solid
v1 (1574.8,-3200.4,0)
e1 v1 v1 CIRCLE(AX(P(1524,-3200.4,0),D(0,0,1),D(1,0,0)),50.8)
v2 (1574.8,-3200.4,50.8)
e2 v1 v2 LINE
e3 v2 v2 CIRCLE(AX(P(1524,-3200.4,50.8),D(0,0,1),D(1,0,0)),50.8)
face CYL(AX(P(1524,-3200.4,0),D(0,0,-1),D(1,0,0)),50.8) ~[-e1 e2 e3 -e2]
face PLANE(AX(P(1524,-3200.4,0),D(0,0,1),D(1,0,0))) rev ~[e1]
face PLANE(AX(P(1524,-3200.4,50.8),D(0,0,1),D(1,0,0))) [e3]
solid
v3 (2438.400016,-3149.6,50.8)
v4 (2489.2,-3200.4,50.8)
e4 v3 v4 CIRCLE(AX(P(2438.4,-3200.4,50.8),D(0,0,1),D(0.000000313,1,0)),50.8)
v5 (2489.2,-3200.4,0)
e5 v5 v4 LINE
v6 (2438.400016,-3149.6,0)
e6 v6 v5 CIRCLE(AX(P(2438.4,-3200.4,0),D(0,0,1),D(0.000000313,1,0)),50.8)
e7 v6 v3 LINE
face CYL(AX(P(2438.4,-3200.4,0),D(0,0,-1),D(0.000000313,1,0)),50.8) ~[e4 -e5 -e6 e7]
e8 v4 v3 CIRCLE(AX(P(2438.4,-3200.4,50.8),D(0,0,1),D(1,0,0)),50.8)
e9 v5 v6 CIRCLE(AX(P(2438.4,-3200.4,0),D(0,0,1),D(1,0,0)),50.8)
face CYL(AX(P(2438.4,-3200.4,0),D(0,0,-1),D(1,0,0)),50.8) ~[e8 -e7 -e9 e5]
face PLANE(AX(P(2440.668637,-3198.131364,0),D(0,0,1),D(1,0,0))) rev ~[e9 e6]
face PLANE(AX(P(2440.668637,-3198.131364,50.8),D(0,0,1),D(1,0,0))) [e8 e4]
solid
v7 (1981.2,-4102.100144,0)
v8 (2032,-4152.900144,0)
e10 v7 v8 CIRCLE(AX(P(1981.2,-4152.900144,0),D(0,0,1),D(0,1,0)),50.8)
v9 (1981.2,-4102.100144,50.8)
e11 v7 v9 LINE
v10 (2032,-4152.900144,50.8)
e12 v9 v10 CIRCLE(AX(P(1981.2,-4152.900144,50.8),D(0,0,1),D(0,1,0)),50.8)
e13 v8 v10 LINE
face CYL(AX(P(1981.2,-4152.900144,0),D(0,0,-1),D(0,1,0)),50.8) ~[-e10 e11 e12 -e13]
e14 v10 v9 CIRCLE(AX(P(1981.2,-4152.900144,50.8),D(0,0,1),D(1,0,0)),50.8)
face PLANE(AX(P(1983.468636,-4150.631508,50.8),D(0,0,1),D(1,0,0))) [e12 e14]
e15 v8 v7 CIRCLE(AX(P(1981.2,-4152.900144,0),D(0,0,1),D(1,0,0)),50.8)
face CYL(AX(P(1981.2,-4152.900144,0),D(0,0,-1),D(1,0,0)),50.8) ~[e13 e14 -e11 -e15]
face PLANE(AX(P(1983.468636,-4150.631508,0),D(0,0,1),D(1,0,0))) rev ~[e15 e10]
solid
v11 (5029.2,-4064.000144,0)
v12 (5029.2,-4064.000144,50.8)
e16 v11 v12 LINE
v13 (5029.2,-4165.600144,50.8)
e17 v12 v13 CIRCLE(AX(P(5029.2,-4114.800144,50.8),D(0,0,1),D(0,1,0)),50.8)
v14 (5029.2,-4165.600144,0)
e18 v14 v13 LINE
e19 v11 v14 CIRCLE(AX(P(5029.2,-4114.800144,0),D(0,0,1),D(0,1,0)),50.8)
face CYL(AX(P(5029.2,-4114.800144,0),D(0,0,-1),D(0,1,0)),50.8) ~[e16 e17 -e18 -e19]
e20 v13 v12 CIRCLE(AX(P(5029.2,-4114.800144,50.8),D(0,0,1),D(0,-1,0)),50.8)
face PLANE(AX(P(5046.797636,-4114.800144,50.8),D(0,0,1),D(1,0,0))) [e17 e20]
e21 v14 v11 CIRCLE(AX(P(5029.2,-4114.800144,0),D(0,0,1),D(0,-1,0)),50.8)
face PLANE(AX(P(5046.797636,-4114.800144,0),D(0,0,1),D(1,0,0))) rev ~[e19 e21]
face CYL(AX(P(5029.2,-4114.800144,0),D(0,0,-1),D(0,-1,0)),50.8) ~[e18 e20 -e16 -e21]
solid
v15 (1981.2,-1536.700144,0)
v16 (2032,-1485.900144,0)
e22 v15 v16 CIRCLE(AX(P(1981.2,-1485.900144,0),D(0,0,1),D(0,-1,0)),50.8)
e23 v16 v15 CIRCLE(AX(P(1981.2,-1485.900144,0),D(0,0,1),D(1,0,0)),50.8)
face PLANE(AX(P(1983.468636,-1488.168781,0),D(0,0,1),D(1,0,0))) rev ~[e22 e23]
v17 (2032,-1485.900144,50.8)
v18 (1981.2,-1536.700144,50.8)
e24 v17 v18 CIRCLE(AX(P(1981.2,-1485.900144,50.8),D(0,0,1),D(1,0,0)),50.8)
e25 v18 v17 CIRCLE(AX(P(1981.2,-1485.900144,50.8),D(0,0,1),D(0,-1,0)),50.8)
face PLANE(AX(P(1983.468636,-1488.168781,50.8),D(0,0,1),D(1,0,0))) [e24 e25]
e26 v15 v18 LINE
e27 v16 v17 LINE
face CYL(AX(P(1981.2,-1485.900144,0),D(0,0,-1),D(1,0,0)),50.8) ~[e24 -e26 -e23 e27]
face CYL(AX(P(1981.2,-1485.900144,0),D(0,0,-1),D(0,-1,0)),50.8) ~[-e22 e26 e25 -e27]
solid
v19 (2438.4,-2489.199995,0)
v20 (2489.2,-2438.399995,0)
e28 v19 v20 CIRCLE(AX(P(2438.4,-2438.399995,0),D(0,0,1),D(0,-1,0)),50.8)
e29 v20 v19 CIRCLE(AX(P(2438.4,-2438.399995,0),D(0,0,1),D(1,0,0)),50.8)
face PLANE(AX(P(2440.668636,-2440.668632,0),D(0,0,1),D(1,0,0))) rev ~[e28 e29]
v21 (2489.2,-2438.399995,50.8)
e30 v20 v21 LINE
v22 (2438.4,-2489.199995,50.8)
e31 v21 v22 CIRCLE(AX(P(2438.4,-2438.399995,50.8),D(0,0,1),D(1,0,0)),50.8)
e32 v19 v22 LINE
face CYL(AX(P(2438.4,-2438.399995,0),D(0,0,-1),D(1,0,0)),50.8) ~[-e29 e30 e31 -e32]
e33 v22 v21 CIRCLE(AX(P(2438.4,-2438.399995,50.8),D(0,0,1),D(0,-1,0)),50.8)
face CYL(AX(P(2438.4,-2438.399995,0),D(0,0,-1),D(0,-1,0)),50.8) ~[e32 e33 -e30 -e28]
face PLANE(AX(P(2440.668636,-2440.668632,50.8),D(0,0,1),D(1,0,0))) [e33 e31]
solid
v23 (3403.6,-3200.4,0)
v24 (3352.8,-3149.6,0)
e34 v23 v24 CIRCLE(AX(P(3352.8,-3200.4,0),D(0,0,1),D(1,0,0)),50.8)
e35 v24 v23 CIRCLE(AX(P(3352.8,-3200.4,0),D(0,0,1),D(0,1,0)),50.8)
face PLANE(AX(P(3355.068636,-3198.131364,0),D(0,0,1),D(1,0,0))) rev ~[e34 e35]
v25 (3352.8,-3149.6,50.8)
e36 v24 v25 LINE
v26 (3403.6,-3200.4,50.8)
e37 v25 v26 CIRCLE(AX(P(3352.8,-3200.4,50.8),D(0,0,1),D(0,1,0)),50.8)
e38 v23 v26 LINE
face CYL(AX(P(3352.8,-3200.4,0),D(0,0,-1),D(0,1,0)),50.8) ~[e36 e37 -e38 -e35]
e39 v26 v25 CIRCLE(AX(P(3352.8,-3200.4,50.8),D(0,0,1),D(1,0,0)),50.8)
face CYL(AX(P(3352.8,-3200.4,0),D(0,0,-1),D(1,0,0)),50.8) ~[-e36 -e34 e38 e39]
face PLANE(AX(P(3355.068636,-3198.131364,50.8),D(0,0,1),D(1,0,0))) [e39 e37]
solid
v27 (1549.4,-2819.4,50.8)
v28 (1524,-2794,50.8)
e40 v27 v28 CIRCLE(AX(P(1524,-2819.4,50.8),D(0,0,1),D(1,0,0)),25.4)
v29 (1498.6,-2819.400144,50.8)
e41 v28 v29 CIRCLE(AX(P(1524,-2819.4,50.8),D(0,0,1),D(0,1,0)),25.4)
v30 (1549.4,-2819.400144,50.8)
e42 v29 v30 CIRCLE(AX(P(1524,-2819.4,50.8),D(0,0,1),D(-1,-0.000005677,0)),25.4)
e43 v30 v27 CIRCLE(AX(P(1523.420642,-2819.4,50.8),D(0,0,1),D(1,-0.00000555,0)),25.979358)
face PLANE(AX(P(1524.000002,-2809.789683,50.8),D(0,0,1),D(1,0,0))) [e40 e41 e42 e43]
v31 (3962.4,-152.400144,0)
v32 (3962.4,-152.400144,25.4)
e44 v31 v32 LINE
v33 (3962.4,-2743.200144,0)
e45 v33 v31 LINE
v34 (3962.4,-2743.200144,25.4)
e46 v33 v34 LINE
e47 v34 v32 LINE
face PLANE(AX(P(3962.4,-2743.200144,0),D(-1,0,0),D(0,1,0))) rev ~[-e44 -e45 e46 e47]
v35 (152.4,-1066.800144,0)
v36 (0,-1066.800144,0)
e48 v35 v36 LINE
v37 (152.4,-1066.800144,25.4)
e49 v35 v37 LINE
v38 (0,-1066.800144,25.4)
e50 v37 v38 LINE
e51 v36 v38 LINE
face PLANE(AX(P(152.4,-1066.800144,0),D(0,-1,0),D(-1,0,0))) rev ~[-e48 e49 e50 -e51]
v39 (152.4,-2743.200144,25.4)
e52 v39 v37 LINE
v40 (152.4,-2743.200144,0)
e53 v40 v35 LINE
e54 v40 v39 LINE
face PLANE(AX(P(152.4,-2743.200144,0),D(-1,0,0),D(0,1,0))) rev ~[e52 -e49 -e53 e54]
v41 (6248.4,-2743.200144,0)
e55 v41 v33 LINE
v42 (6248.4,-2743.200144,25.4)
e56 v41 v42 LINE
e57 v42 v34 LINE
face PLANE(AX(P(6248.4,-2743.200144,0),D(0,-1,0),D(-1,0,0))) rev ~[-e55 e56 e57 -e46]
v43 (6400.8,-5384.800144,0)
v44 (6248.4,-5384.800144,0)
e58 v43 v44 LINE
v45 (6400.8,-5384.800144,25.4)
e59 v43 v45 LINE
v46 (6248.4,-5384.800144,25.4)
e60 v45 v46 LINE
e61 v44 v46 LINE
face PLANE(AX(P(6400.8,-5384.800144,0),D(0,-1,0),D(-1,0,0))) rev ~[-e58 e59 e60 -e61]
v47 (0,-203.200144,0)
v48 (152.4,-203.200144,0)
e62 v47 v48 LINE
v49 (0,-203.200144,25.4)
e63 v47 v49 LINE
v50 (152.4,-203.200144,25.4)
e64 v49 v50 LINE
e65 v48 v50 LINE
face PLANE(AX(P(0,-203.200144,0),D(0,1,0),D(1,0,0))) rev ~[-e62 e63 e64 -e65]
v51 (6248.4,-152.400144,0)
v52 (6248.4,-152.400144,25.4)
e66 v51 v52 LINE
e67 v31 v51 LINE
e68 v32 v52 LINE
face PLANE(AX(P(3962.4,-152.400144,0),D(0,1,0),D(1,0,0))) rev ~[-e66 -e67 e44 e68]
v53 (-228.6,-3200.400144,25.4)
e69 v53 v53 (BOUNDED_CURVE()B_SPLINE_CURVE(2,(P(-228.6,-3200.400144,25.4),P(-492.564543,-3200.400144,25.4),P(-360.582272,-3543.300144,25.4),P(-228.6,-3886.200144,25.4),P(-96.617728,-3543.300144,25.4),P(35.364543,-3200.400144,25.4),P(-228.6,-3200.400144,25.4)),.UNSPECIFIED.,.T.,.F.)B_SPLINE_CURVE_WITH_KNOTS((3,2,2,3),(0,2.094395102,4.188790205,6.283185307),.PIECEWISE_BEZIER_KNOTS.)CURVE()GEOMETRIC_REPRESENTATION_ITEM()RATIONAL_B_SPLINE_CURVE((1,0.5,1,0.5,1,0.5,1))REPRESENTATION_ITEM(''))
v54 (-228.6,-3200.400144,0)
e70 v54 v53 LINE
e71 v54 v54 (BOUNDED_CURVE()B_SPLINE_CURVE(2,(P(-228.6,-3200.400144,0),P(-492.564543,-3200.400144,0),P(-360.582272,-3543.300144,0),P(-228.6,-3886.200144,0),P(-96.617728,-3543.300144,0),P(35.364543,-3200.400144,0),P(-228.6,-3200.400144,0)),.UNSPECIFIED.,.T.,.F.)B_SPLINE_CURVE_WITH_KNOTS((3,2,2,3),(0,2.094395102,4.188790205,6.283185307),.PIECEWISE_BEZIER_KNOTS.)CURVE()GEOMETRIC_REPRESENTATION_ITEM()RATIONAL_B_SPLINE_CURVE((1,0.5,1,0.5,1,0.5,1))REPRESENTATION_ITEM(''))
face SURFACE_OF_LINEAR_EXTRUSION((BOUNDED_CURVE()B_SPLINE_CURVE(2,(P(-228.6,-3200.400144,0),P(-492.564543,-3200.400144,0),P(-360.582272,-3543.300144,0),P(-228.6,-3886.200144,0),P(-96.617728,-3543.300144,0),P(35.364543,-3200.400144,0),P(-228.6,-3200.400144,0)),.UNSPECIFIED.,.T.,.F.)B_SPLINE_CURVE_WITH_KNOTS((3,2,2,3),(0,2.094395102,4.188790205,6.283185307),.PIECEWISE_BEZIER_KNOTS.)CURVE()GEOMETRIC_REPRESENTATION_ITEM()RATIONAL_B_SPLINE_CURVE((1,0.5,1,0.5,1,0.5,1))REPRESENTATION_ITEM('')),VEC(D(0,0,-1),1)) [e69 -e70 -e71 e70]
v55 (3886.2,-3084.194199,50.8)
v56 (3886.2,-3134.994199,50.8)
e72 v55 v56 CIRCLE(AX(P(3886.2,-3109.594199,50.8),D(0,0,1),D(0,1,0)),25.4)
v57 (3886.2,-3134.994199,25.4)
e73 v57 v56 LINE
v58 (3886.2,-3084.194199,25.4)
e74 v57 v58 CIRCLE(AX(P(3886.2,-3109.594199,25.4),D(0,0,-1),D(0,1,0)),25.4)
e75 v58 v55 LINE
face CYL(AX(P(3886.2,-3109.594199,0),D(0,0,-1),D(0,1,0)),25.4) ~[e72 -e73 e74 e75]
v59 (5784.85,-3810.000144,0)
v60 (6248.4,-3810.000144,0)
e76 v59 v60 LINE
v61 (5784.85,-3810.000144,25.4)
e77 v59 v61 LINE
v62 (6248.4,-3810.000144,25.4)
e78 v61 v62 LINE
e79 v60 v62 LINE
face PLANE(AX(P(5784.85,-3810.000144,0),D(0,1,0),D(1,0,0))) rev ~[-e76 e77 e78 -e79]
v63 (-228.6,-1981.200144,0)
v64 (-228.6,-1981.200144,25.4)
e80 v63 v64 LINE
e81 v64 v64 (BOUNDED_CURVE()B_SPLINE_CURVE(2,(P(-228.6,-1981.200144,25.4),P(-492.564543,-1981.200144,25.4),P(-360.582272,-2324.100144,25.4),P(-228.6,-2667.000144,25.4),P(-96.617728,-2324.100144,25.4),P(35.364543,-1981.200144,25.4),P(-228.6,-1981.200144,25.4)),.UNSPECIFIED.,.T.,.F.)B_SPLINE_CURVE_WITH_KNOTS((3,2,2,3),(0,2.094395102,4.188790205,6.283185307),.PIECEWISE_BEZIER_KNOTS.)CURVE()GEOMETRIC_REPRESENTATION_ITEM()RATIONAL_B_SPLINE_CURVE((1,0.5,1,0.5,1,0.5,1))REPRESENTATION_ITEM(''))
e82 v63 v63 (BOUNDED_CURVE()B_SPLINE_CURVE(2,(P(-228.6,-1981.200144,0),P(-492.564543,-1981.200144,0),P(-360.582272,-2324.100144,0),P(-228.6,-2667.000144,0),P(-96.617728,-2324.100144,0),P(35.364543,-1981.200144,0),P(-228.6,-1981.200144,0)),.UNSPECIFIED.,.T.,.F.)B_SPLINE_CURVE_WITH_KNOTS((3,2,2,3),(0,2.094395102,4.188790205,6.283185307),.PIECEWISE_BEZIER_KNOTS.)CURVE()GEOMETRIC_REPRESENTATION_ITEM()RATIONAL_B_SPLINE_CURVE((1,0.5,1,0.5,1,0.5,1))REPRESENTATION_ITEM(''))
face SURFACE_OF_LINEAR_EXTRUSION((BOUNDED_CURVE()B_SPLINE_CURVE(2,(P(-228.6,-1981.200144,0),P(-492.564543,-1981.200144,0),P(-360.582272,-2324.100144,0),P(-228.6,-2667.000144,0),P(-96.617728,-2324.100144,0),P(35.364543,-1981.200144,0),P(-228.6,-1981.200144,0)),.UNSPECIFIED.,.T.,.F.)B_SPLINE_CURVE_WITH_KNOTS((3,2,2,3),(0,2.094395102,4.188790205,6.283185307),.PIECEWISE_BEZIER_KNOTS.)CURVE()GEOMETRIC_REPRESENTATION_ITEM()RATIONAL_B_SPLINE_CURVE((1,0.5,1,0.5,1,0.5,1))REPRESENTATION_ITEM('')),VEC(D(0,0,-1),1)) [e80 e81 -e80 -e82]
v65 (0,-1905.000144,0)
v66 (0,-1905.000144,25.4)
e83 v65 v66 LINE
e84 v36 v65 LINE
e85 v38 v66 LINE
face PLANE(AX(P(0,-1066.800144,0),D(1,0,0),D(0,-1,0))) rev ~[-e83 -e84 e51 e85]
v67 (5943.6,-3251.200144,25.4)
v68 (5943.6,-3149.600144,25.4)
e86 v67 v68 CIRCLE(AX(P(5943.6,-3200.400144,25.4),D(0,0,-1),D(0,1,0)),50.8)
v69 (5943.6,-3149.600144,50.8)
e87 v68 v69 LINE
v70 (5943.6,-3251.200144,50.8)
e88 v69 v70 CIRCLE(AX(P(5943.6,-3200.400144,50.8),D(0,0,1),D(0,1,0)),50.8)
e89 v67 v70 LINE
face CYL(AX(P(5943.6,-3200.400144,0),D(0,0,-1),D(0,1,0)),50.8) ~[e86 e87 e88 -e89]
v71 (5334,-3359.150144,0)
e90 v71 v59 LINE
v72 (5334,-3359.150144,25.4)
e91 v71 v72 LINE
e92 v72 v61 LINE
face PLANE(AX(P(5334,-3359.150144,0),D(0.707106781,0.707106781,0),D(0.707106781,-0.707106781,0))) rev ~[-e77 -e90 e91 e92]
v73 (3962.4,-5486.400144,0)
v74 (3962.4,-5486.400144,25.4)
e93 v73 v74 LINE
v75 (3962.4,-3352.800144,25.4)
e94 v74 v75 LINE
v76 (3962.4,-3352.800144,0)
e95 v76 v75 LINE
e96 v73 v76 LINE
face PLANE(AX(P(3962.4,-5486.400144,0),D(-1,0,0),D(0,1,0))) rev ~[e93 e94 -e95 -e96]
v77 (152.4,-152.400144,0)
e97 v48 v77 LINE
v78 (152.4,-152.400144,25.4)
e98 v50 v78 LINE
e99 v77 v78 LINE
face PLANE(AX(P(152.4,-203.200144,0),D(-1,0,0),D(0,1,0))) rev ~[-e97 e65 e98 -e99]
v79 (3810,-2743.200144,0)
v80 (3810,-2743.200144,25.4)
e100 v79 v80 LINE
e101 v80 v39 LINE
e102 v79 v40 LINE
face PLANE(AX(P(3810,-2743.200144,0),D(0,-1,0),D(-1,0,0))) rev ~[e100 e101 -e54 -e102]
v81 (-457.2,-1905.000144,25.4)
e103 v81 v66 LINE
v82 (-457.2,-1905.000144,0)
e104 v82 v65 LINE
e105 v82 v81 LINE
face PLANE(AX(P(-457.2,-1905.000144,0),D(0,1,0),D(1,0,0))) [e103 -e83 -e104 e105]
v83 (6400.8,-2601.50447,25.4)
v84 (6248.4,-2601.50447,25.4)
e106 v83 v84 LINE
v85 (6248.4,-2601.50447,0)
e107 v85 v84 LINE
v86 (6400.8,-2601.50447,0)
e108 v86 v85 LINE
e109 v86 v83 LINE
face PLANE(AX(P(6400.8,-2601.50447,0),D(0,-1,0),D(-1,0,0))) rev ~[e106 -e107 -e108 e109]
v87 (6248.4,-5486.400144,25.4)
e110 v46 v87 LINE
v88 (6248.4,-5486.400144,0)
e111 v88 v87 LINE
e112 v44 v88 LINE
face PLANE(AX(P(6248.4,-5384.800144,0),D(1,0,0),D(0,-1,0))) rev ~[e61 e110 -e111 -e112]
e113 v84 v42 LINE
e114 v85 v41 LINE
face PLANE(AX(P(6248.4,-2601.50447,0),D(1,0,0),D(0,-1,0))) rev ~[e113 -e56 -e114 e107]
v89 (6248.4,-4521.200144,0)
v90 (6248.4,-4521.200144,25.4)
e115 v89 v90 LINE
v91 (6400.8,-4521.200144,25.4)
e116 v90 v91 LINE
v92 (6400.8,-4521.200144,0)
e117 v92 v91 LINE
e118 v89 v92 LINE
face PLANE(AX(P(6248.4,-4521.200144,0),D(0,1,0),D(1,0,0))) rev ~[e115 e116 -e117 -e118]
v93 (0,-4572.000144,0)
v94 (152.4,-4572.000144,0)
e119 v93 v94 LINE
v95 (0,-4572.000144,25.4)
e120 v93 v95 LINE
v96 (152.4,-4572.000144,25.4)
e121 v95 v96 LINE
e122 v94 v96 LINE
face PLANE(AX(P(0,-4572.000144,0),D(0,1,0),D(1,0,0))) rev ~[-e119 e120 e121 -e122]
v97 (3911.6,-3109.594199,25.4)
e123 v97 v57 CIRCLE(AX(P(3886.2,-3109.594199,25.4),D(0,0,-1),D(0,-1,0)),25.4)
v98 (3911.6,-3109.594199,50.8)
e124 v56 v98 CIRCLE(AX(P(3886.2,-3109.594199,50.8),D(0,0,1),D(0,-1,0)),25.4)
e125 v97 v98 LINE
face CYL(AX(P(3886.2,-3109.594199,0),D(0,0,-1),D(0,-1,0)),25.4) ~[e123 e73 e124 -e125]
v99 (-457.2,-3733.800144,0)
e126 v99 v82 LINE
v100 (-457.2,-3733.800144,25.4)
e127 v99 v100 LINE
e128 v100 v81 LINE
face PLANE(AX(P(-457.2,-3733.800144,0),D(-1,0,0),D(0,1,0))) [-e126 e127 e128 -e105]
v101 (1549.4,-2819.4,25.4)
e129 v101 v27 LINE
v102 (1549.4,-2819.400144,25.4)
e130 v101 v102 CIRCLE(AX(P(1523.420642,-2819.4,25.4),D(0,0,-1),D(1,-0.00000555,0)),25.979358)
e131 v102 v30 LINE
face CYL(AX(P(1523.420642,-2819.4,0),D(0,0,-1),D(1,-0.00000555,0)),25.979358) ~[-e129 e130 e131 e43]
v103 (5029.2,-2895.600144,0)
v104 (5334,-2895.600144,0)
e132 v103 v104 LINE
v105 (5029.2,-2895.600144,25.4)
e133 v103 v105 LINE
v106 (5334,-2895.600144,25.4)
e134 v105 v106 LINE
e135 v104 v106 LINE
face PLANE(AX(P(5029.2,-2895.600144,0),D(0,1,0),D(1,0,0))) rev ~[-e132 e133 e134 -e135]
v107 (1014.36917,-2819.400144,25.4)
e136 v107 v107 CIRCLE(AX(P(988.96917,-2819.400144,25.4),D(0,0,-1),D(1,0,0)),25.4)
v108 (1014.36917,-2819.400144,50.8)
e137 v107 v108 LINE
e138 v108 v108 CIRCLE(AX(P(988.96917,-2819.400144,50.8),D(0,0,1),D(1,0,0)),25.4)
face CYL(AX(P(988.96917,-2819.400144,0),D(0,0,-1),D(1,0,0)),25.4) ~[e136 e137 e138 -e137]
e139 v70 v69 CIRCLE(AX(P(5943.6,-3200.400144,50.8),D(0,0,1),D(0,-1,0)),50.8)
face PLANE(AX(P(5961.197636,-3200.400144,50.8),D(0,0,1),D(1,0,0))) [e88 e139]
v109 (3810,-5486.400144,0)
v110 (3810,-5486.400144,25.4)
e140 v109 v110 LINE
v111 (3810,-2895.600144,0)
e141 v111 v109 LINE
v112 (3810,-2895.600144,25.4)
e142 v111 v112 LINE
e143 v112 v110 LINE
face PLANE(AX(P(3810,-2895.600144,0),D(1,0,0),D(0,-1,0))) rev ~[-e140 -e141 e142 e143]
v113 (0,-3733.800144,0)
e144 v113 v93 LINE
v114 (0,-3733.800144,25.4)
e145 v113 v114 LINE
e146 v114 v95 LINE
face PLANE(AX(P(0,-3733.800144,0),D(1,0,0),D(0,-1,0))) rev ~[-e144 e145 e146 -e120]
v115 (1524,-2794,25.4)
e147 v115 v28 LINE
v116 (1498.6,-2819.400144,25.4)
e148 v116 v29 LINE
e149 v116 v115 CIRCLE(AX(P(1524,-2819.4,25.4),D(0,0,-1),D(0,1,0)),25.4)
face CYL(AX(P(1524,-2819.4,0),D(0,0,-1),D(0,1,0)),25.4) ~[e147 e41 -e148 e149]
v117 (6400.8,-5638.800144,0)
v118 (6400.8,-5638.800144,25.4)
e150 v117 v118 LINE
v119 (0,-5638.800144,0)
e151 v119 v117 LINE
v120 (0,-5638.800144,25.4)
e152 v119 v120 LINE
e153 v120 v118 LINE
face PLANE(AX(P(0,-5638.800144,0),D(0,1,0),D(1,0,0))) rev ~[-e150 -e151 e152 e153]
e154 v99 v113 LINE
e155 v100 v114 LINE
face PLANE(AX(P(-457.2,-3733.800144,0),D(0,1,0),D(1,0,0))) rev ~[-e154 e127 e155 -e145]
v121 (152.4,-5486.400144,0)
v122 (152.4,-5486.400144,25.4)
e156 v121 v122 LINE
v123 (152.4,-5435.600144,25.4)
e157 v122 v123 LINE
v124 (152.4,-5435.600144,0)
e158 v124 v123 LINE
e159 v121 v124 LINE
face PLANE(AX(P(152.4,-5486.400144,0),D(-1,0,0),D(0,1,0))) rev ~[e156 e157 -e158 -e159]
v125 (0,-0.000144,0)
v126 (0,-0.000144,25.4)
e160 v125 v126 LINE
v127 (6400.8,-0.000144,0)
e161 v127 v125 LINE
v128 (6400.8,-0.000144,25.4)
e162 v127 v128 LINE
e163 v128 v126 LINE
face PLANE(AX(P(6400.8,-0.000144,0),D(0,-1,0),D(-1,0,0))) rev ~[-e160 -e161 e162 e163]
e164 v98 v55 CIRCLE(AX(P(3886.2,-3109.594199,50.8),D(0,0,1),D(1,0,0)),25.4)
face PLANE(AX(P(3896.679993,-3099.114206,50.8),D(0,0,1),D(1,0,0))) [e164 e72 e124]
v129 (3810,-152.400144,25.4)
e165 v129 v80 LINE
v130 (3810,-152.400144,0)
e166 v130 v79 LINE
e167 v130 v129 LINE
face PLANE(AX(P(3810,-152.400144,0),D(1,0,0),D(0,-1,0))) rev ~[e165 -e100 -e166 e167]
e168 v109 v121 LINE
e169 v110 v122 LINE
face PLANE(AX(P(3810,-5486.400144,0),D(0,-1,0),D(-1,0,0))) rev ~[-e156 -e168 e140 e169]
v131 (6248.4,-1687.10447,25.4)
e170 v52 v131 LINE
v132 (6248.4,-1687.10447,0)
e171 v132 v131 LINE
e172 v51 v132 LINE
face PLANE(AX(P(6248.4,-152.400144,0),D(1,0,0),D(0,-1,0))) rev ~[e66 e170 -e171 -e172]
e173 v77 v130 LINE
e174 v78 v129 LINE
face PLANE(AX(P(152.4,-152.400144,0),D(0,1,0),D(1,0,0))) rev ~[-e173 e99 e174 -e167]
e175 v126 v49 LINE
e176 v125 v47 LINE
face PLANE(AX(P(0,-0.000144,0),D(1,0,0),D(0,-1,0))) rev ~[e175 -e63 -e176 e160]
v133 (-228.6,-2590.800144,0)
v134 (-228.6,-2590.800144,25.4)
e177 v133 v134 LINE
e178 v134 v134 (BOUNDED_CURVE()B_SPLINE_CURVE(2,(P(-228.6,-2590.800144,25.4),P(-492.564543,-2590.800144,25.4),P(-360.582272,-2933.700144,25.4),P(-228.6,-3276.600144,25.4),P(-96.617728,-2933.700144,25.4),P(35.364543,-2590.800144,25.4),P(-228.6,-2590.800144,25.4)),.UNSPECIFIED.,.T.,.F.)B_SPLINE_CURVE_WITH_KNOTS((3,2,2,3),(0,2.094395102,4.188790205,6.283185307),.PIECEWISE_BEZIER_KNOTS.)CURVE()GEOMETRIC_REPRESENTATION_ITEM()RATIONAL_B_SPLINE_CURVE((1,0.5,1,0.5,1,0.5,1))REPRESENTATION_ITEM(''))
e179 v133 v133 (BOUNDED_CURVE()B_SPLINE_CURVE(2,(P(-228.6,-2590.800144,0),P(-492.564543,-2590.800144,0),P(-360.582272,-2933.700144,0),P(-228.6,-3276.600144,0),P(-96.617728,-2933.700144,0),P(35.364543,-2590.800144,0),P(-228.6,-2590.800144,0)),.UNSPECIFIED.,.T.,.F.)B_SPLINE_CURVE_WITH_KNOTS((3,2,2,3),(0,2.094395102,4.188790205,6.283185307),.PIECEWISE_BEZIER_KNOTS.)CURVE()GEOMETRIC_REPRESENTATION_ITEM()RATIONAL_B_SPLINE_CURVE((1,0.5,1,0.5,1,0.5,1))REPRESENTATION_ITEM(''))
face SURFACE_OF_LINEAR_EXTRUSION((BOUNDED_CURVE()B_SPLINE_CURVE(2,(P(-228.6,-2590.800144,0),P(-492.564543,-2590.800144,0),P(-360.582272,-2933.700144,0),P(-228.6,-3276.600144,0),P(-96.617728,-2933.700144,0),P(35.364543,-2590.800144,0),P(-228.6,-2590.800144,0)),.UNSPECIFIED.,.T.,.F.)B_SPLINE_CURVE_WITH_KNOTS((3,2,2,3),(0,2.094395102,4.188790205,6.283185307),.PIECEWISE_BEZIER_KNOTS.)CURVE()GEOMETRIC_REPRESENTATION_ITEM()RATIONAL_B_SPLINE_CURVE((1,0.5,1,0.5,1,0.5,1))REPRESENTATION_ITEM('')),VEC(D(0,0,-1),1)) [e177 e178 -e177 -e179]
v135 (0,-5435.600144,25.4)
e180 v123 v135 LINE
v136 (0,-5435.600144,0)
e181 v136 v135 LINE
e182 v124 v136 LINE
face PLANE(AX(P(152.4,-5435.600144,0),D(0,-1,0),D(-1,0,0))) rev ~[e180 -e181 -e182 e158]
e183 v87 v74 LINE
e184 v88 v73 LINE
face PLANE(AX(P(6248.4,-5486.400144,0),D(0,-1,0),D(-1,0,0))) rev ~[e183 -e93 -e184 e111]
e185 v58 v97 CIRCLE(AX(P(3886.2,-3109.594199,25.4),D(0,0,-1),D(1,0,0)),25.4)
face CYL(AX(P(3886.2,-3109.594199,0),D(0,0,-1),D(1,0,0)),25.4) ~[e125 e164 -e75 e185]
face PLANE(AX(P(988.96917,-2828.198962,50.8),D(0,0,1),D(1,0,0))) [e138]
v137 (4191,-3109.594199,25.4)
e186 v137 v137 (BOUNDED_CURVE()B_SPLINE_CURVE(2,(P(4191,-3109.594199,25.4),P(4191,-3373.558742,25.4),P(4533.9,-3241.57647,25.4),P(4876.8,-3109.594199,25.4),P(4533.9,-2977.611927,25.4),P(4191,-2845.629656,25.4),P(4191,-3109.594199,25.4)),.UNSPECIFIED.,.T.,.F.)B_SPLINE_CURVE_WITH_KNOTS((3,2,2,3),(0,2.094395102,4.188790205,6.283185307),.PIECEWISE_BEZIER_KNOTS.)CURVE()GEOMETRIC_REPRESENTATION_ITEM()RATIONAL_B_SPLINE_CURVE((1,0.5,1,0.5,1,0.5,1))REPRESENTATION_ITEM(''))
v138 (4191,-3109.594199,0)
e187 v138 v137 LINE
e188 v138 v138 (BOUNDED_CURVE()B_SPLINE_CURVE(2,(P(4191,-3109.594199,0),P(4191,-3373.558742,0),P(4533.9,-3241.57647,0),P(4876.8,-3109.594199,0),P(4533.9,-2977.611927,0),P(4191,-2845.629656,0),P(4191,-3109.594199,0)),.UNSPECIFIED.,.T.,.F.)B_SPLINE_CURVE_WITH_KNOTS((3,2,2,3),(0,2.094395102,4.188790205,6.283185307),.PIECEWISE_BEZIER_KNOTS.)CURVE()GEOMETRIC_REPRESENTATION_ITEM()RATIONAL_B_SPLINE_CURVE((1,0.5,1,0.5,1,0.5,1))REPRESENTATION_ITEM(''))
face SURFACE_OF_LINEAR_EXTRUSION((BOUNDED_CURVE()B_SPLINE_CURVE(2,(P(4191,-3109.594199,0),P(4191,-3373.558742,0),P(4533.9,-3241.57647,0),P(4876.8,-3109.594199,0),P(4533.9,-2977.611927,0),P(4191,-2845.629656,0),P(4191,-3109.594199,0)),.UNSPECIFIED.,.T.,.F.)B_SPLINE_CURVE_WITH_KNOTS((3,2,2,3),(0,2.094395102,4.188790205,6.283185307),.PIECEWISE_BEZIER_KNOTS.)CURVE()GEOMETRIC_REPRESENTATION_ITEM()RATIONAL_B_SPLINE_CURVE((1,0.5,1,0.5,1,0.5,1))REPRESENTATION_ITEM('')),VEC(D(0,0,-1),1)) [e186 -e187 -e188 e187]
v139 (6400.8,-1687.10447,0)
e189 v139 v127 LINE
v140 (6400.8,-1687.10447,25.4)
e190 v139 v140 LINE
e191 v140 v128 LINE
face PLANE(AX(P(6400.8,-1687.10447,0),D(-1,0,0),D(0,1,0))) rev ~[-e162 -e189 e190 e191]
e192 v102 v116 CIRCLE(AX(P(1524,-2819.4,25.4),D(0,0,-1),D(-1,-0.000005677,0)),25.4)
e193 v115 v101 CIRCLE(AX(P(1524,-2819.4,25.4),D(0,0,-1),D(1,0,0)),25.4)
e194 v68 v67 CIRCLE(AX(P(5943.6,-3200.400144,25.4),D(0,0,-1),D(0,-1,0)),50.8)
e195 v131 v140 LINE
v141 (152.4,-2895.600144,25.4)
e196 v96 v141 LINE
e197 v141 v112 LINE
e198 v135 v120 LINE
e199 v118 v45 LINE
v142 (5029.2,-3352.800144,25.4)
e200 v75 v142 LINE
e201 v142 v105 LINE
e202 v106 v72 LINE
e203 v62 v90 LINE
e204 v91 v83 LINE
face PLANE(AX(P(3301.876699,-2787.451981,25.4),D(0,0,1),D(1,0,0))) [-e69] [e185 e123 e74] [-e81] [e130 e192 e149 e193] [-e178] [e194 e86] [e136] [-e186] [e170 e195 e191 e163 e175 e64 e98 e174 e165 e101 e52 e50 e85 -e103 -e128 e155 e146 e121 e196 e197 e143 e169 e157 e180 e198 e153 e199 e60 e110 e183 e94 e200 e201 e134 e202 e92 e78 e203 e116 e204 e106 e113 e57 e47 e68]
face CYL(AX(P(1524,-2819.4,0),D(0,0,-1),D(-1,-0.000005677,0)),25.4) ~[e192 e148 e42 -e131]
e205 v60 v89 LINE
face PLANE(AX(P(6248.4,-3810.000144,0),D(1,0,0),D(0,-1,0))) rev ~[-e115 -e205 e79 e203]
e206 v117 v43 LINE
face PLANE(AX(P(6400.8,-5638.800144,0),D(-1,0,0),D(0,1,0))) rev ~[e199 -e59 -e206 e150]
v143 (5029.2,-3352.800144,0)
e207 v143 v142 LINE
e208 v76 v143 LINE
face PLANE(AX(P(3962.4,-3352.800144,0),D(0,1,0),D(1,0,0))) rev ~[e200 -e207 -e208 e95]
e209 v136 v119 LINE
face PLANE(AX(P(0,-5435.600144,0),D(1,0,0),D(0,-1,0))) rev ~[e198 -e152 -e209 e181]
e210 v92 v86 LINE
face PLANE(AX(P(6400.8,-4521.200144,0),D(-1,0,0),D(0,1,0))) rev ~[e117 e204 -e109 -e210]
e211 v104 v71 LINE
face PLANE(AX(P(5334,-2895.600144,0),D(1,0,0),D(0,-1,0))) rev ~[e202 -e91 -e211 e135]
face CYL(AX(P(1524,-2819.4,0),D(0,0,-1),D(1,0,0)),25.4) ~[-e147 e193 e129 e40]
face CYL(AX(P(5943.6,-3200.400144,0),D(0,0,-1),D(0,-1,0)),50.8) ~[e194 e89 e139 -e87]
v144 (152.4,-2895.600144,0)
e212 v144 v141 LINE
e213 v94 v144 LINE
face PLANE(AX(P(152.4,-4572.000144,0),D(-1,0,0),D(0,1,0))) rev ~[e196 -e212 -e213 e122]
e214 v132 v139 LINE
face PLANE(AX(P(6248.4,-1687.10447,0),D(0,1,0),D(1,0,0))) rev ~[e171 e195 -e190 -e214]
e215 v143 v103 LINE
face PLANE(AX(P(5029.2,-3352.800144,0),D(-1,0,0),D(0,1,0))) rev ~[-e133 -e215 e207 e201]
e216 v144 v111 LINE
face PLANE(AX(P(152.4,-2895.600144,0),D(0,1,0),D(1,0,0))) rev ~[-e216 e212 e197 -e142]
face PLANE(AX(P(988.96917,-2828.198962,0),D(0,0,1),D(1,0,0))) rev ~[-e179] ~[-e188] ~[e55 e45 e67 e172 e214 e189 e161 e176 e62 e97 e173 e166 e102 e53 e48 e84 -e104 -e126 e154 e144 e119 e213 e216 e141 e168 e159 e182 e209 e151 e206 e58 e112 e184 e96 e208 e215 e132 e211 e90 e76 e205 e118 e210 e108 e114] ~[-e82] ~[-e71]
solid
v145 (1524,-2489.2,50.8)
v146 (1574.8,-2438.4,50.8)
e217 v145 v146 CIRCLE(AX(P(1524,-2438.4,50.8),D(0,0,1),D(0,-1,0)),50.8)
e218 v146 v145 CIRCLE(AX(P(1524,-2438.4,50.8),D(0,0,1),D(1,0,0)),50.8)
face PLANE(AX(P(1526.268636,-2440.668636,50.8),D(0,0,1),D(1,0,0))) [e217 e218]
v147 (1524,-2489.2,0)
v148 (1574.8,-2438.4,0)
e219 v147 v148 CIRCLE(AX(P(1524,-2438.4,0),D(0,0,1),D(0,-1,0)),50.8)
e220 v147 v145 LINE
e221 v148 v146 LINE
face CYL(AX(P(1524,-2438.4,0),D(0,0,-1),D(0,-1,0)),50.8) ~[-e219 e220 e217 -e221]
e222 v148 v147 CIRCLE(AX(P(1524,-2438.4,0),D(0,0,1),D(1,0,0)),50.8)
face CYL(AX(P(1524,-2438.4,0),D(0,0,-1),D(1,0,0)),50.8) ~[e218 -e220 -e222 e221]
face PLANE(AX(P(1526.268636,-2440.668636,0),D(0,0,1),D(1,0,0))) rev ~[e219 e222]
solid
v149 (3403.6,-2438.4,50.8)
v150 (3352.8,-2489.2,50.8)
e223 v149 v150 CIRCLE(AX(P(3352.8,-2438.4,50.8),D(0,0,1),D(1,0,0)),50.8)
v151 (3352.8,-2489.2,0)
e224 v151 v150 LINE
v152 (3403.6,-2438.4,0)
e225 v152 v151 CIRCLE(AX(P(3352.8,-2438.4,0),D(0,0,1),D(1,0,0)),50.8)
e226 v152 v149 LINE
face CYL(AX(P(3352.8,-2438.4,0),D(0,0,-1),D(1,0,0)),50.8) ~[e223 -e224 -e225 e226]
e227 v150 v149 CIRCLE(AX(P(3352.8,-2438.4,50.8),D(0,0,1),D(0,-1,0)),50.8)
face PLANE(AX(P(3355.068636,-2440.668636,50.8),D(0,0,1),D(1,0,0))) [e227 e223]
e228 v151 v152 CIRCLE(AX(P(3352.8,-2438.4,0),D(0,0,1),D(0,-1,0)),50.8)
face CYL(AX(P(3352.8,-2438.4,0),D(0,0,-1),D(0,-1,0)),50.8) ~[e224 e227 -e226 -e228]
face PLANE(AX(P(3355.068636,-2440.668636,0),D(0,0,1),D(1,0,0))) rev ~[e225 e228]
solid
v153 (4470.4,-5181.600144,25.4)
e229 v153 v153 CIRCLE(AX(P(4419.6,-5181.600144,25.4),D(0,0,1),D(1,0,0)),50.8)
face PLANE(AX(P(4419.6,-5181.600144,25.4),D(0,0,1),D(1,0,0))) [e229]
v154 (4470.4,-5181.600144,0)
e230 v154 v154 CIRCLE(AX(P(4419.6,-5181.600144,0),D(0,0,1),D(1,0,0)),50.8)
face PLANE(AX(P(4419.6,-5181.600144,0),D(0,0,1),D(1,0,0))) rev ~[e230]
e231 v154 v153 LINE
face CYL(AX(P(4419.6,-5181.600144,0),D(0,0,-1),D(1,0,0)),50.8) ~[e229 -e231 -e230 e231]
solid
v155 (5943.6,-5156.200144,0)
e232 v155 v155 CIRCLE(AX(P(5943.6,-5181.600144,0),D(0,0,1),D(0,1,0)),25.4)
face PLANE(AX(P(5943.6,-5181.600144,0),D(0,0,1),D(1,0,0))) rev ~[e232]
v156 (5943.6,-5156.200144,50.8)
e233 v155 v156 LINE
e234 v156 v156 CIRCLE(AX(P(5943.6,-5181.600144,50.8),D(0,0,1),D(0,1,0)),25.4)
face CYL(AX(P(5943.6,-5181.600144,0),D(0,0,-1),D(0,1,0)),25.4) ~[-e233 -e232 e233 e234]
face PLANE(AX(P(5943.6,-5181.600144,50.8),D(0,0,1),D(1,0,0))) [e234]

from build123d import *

# Parameters (mm, degrees)
F1_W     = 457.2
F1_H     = 1828.8
F1_W_2   = 1066.8
F1_H_2   = 457.2
F3_DEPTH = 25.4
F1_R     = 50.8
F4_DEPTH = 50.8
F2_R     = 50.8


with BuildPart() as f3:
    # F1 (on Top) → F3 (new body)
    with BuildSketch(Plane.XY):
        Polygon((1066.8, -2743.2001441956), (152.4, -2743.2001441956), (152.4, -1066.8001441956), (0, -1066.8001441956), (0, -1905.0001441956), (0, -3733.8001441956), (0, -4572.0001441956), (152.4, -4572.0001441956), (152.4, -2895.6001441956), (1066.8, -2895.6001441956), (1981.2, -2895.6001441956), (2895.6, -2895.6001441956), (3810, -2895.6001441956), (3810, -4419.6001441956), (3810, -5486.4001441956), (152.4, -5486.4001441956), (152.4, -5435.6001441956), (76.2, -5435.6001441956), (0, -5435.6001441956), (0, -5638.8001441956), (6400.8, -5638.8001441956), (6400.8, -5384.8001441956), (6324.6, -5384.8001441956), (6248.4, -5384.8001441956), (6248.4, -5486.4001441956), (3962.4, -5486.4001441956), (3962.4, -3352.8001441956), (3962.4, -2895.6001441956), (5029.2, -2895.6001441956), (5334, -2895.6001441956), (6248.4, -2895.6001441956), (6248.4, -3810.0001441956), (6248.4, -4521.2001441956), (6400.8, -4521.2001441956), (6400.8, -2601.5044700622), (6324.6, -2601.5044700622), (6248.4, -2601.5044700622), (6248.4, -2743.2001441956), (3962.4, -2743.2001441956), (3962.4, -152.4001441955), (6248.4, -152.4001441955), (6248.4, -1687.1044700622), (6400.8, -1687.1044700622), (6400.8, -0.0001441956), (3962.4, -0.0001441956), (0, -0.0001441956), (0, -203.2001441956), (76.2, -203.2001441956), (152.4, -203.2001441956), (152.4, -152.4001441956), (3810, -152.4001441955), (3810, -1219.2001441956), (3810, -2743.2001441956), (2895.6, -2743.2001441956), (1981.2, -2743.2001441956), align=None)
        with Locations((-228.6, -2819.4001441956)):
            Rectangle(F1_W, F1_H)
        with BuildLine():
            add(Edge.make_bspline(
                [(-228.6, -3200.4001441956), (-492.5645430735, -3200.4001441956), (-360.5822715367, -3543.3001441956), (-228.6, -3886.2001441956), (-96.6177284633, -3543.3001441956), (35.3645430735, -3200.4001441956), (-228.6, -3200.4001441956)],
                knots=[0, 0, 0, 2.0943951024, 2.0943951024, 4.1887902048, 4.1887902048, 6.2831853072, 6.2831853072, 6.2831853072], degree=2, weights=[1, 0.5, 1, 0.5, 1, 0.5, 1]))
        make_face(mode=Mode.SUBTRACT)
        with BuildLine():
            add(Edge.make_bspline(
                [(-228.6, -2590.8001441956), (-492.5645430735, -2590.8001441956), (-360.5822715367, -2933.7001441956), (-228.6, -3276.6001441956), (-96.6177284633, -2933.7001441956), (35.3645430735, -2590.8001441956), (-228.6, -2590.8001441956)],
                knots=[0, 0, 0, 2.0943951024, 2.0943951024, 4.1887902048, 4.1887902048, 6.2831853072, 6.2831853072, 6.2831853072], degree=2, weights=[1, 0.5, 1, 0.5, 1, 0.5, 1]))
        make_face(mode=Mode.SUBTRACT)
        with BuildLine():
            add(Edge.make_bspline(
                [(-228.6, -1981.2001441956), (-492.5645430735, -1981.2001441956), (-360.5822715367, -2324.1001441956), (-228.6, -2667.0001441956), (-96.6177284633, -2324.1001441956), (35.3645430735, -1981.2001441956), (-228.6, -1981.2001441956)],
                knots=[0, 0, 0, 2.0943951024, 2.0943951024, 4.1887902048, 4.1887902048, 6.2831853072, 6.2831853072, 6.2831853072], degree=2, weights=[1, 0.5, 1, 0.5, 1, 0.5, 1]))
        make_face(mode=Mode.SUBTRACT)
        Polygon((5784.85, -3810.0001441956), (6248.4, -3810.0001441956), (6248.4, -2895.6001441956), (5334, -2895.6001441956), (5334, -3359.1501441956), align=None)
        with Locations((4495.8, -3124.2001441956)):
            Rectangle(F1_W_2, F1_H_2)
        with BuildLine():
            add(Edge.make_bspline(
                [(4191, -3109.5941986084), (4191, -3373.5587416819), (4533.9, -3241.5764701451), (4876.8, -3109.5941986084), (4533.9, -2977.6119270716), (4191, -2845.6296555349), (4191, -3109.5941986084)],
                knots=[0, 0, 0, 2.0943951024, 2.0943951024, 4.1887902048, 4.1887902048, 6.2831853072, 6.2831853072, 6.2831853072], degree=2, weights=[1, 0.5, 1, 0.5, 1, 0.5, 1]))
        make_face(mode=Mode.SUBTRACT)
    extrude(amount=F3_DEPTH)

    # F2 (on Top) → F4, piece 8 (join)
    with BuildSketch(Plane.XY):
        with BuildLine():
            ThreePointArc((963.5691699066, -2819.4001441956), (988.9691699066, -2844.8001441956), (1014.3691699066, -2819.4001441956))
            Line((1014.3691699066, -2819.4001441956), (963.5691699066, -2819.4001441956))
        make_face()
        with BuildLine():
            Line((963.5691699066, -2819.4001441956), (1014.3691699066, -2819.4001441956))
            ThreePointArc((1014.3691699066, -2819.4001441956), (988.9691699066, -2794.0001441956), (963.5691699066, -2819.4001441956))
        make_face()
        with BuildLine():
            ThreePointArc((1549.4, -2819.4), (1541.9605122421, -2801.4394877579), (1524, -2794))
            ThreePointArc((1524, -2794), (1506.0394367771, -2801.4395387388), (1498.6000000004, -2819.4001441956))
            Line((1498.6000000004, -2819.4001441956), (1549.3999999996, -2819.4001441956))
            ThreePointArc((1549.3999999996, -2819.4001441956), (1549.3999999999, -2819.4000720978), (1549.4, -2819.4))
        make_face()
        with BuildLine():
            Line((1549.3999999996, -2819.4001441956), (1498.6000000004, -2819.4001441956))
            ThreePointArc((1498.6000000004, -2819.4001441956), (1524, -2844.8), (1549.3999999996, -2819.4001441956))
        make_face()
        with BuildLine():
            ThreePointArc((5994.4, -3200.4001441956), (5979.5210244843, -3164.4791197113), (5943.6, -3149.6001441956))
            Line((5943.6, -3149.6001441956), (5943.6, -3251.2001441956))
            ThreePointArc((5943.6, -3251.2001441956), (5979.5210244843, -3236.3211686798), (5994.4, -3200.4001441956))
        make_face()
        with BuildLine():
            Line((5943.6, -3251.2001441956), (5943.6, -3149.6001441956))
            ThreePointArc((5943.6, -3149.6001441956), (5892.8, -3200.4001441956), (5943.6, -3251.2001441956))
        make_face()
        with BuildLine():
            ThreePointArc((3911.6, -3109.5941986084), (3904.1605122421, -3091.6336863662), (3886.2, -3084.1941986084))
            Line((3886.2, -3084.1941986084), (3886.2, -3109.5941986084))
            Line((3886.2, -3109.5941986084), (3911.6, -3109.5941986084))
        make_face()
        with BuildLine():
            Line((3886.2, -3109.5941986084), (3886.2, -3084.1941986084))
            ThreePointArc((3886.2, -3084.1941986084), (3860.8, -3109.5941986084), (3886.2, -3134.9941986084))
            Line((3886.2, -3134.9941986084), (3886.2, -3109.5941986084))
        make_face()
        with BuildLine():
            ThreePointArc((3886.2, -3134.9941986084), (3904.1605122421, -3127.5547108505), (3911.6, -3109.5941986084))
            Line((3911.6, -3109.5941986084), (3886.2, -3109.5941986084))
            Line((3886.2, -3109.5941986084), (3886.2, -3134.9941986084))
        make_face()
    extrude(amount=F4_DEPTH)


with BuildPart() as f3b:
    # F1 (on Top) → F3, piece 2 (new body)
    with BuildSketch(Plane.XY):
        with Locations((4419.6, -5181.6001441956)):
            Circle(F1_R)
    extrude(amount=F3_DEPTH)


with BuildPart() as f4:
    # F2 (on Top) → F4 (new body)
    with BuildSketch(Plane.XY):
        with BuildLine():
            ThreePointArc((1524, -2489.2), (1559.9210244843, -2474.3210244843), (1574.8, -2438.4))
            ThreePointArc((1574.8, -2438.4), (1488.0789755157, -2402.4789755157), (1524, -2489.2))
        make_face()
    extrude(amount=F4_DEPTH)


with BuildPart() as f4b:
    # F2 (on Top) → F4, piece 2 (new body)
    with BuildSketch(Plane.XY):
        with Locations((1524, -3200.4)):
            Circle(F2_R)
    extrude(amount=F4_DEPTH)


with BuildPart() as f4c:
    # F2 (on Top) → F4, piece 3 (new body)
    with BuildSketch(Plane.XY):
        with BuildLine():
            ThreePointArc((2438.4000159135, -3149.6), (2402.4789698895, -3236.321018858), (2489.2, -3200.4))
            ThreePointArc((2489.2, -3200.4), (2474.3210301105, -3164.478981142), (2438.4000159135, -3149.6))
        make_face()
    extrude(amount=F4_DEPTH)


with BuildPart() as f4d:
    # F2 (on Top) → F4, piece 4 (new body)
    with BuildSketch(Plane.XY):
        with BuildLine():
            ThreePointArc((2489.2, -2438.3999951099), (2402.4789755157, -2402.4789706256), (2438.4, -2489.1999951099))
            ThreePointArc((2438.4, -2489.1999951099), (2474.3210244843, -2474.3210195942), (2489.2, -2438.3999951099))
        make_face()
    extrude(amount=F4_DEPTH)


with BuildPart() as f4e:
    # F2 (on Top) → F4, piece 5 (new body)
    with BuildSketch(Plane.XY):
        with BuildLine():
            ThreePointArc((3403.6, -2438.4), (3316.8789755157, -2402.4789755157), (3352.8, -2489.2))
            ThreePointArc((3352.8, -2489.2), (3388.7210244843, -2474.3210244843), (3403.6, -2438.4))
        make_face()
    extrude(amount=F4_DEPTH)


with BuildPart() as f4f:
    # F2 (on Top) → F4, piece 6 (new body)
    with BuildSketch(Plane.XY):
        with BuildLine():
            ThreePointArc((5969, -5181.6001441956), (5961.5605122421, -5163.6396319534), (5943.6, -5156.2001441956))
            ThreePointArc((5943.6, -5156.2001441956), (5925.6394877579, -5199.5606564377), (5969, -5181.6001441956))
        make_face()
    extrude(amount=F4_DEPTH)


with BuildPart() as f4g:
    # F2 (on Top) → F4, piece 7 (new body)
    with BuildSketch(Plane.XY):
        with BuildLine():
            ThreePointArc((5080, -4114.8001441956), (5065.1210244843, -4078.8791197113), (5029.2, -4064.0001441956))
            Line((5029.2, -4064.0001441956), (5029.2, -4165.6001441956))
            ThreePointArc((5029.2, -4165.6001441956), (5065.1210244843, -4150.7211686798), (5080, -4114.8001441956))
        make_face()
        with BuildLine():
            Line((5029.2, -4165.6001441956), (5029.2, -4064.0001441956))
            ThreePointArc((5029.2, -4064.0001441956), (4978.4, -4114.8001441956), (5029.2, -4165.6001441956))
        make_face()
    extrude(amount=F4_DEPTH)


with BuildPart() as f4h:
    # F2 (on Top) → F4, piece 9 (new body)
    with BuildSketch(Plane.XY):
        with BuildLine():
            ThreePointArc((3403.6, -3200.4), (3388.7210244843, -3164.4789755157), (3352.8, -3149.6))
            ThreePointArc((3352.8, -3149.6), (3316.8789755157, -3236.3210244843), (3403.6, -3200.4))
        make_face()
    extrude(amount=F4_DEPTH)


with BuildPart() as f4i:
    # F2 (on Top) → F4, piece 10 (new body)
    with BuildSketch(Plane.XY):
        with BuildLine():
            ThreePointArc((1981.2, -4102.1001441956), (1945.2789755157, -4188.8211686798), (2032, -4152.9001441956))
            ThreePointArc((2032, -4152.9001441956), (2017.1210244843, -4116.9791197113), (1981.2, -4102.1001441956))
        make_face()
    extrude(amount=F4_DEPTH)


with BuildPart() as f4j:
    # F2 (on Top) → F4, piece 11 (new body)
    with BuildSketch(Plane.XY):
        with BuildLine():
            ThreePointArc((1981.2, -1536.7001441956), (2017.1210244843, -1521.8211686798), (2032, -1485.9001441956))
            ThreePointArc((2032, -1485.9001441956), (1945.2789755157, -1449.9791197113), (1981.2, -1536.7001441956))
        make_face()
    extrude(amount=F4_DEPTH)


solid = Compound([f3.part, f3b.part, f4.part, f4b.part, f4c.part, f4d.part, f4e.part, f4f.part, f4g.part, f4h.part, f4i.part, f4j.part])
